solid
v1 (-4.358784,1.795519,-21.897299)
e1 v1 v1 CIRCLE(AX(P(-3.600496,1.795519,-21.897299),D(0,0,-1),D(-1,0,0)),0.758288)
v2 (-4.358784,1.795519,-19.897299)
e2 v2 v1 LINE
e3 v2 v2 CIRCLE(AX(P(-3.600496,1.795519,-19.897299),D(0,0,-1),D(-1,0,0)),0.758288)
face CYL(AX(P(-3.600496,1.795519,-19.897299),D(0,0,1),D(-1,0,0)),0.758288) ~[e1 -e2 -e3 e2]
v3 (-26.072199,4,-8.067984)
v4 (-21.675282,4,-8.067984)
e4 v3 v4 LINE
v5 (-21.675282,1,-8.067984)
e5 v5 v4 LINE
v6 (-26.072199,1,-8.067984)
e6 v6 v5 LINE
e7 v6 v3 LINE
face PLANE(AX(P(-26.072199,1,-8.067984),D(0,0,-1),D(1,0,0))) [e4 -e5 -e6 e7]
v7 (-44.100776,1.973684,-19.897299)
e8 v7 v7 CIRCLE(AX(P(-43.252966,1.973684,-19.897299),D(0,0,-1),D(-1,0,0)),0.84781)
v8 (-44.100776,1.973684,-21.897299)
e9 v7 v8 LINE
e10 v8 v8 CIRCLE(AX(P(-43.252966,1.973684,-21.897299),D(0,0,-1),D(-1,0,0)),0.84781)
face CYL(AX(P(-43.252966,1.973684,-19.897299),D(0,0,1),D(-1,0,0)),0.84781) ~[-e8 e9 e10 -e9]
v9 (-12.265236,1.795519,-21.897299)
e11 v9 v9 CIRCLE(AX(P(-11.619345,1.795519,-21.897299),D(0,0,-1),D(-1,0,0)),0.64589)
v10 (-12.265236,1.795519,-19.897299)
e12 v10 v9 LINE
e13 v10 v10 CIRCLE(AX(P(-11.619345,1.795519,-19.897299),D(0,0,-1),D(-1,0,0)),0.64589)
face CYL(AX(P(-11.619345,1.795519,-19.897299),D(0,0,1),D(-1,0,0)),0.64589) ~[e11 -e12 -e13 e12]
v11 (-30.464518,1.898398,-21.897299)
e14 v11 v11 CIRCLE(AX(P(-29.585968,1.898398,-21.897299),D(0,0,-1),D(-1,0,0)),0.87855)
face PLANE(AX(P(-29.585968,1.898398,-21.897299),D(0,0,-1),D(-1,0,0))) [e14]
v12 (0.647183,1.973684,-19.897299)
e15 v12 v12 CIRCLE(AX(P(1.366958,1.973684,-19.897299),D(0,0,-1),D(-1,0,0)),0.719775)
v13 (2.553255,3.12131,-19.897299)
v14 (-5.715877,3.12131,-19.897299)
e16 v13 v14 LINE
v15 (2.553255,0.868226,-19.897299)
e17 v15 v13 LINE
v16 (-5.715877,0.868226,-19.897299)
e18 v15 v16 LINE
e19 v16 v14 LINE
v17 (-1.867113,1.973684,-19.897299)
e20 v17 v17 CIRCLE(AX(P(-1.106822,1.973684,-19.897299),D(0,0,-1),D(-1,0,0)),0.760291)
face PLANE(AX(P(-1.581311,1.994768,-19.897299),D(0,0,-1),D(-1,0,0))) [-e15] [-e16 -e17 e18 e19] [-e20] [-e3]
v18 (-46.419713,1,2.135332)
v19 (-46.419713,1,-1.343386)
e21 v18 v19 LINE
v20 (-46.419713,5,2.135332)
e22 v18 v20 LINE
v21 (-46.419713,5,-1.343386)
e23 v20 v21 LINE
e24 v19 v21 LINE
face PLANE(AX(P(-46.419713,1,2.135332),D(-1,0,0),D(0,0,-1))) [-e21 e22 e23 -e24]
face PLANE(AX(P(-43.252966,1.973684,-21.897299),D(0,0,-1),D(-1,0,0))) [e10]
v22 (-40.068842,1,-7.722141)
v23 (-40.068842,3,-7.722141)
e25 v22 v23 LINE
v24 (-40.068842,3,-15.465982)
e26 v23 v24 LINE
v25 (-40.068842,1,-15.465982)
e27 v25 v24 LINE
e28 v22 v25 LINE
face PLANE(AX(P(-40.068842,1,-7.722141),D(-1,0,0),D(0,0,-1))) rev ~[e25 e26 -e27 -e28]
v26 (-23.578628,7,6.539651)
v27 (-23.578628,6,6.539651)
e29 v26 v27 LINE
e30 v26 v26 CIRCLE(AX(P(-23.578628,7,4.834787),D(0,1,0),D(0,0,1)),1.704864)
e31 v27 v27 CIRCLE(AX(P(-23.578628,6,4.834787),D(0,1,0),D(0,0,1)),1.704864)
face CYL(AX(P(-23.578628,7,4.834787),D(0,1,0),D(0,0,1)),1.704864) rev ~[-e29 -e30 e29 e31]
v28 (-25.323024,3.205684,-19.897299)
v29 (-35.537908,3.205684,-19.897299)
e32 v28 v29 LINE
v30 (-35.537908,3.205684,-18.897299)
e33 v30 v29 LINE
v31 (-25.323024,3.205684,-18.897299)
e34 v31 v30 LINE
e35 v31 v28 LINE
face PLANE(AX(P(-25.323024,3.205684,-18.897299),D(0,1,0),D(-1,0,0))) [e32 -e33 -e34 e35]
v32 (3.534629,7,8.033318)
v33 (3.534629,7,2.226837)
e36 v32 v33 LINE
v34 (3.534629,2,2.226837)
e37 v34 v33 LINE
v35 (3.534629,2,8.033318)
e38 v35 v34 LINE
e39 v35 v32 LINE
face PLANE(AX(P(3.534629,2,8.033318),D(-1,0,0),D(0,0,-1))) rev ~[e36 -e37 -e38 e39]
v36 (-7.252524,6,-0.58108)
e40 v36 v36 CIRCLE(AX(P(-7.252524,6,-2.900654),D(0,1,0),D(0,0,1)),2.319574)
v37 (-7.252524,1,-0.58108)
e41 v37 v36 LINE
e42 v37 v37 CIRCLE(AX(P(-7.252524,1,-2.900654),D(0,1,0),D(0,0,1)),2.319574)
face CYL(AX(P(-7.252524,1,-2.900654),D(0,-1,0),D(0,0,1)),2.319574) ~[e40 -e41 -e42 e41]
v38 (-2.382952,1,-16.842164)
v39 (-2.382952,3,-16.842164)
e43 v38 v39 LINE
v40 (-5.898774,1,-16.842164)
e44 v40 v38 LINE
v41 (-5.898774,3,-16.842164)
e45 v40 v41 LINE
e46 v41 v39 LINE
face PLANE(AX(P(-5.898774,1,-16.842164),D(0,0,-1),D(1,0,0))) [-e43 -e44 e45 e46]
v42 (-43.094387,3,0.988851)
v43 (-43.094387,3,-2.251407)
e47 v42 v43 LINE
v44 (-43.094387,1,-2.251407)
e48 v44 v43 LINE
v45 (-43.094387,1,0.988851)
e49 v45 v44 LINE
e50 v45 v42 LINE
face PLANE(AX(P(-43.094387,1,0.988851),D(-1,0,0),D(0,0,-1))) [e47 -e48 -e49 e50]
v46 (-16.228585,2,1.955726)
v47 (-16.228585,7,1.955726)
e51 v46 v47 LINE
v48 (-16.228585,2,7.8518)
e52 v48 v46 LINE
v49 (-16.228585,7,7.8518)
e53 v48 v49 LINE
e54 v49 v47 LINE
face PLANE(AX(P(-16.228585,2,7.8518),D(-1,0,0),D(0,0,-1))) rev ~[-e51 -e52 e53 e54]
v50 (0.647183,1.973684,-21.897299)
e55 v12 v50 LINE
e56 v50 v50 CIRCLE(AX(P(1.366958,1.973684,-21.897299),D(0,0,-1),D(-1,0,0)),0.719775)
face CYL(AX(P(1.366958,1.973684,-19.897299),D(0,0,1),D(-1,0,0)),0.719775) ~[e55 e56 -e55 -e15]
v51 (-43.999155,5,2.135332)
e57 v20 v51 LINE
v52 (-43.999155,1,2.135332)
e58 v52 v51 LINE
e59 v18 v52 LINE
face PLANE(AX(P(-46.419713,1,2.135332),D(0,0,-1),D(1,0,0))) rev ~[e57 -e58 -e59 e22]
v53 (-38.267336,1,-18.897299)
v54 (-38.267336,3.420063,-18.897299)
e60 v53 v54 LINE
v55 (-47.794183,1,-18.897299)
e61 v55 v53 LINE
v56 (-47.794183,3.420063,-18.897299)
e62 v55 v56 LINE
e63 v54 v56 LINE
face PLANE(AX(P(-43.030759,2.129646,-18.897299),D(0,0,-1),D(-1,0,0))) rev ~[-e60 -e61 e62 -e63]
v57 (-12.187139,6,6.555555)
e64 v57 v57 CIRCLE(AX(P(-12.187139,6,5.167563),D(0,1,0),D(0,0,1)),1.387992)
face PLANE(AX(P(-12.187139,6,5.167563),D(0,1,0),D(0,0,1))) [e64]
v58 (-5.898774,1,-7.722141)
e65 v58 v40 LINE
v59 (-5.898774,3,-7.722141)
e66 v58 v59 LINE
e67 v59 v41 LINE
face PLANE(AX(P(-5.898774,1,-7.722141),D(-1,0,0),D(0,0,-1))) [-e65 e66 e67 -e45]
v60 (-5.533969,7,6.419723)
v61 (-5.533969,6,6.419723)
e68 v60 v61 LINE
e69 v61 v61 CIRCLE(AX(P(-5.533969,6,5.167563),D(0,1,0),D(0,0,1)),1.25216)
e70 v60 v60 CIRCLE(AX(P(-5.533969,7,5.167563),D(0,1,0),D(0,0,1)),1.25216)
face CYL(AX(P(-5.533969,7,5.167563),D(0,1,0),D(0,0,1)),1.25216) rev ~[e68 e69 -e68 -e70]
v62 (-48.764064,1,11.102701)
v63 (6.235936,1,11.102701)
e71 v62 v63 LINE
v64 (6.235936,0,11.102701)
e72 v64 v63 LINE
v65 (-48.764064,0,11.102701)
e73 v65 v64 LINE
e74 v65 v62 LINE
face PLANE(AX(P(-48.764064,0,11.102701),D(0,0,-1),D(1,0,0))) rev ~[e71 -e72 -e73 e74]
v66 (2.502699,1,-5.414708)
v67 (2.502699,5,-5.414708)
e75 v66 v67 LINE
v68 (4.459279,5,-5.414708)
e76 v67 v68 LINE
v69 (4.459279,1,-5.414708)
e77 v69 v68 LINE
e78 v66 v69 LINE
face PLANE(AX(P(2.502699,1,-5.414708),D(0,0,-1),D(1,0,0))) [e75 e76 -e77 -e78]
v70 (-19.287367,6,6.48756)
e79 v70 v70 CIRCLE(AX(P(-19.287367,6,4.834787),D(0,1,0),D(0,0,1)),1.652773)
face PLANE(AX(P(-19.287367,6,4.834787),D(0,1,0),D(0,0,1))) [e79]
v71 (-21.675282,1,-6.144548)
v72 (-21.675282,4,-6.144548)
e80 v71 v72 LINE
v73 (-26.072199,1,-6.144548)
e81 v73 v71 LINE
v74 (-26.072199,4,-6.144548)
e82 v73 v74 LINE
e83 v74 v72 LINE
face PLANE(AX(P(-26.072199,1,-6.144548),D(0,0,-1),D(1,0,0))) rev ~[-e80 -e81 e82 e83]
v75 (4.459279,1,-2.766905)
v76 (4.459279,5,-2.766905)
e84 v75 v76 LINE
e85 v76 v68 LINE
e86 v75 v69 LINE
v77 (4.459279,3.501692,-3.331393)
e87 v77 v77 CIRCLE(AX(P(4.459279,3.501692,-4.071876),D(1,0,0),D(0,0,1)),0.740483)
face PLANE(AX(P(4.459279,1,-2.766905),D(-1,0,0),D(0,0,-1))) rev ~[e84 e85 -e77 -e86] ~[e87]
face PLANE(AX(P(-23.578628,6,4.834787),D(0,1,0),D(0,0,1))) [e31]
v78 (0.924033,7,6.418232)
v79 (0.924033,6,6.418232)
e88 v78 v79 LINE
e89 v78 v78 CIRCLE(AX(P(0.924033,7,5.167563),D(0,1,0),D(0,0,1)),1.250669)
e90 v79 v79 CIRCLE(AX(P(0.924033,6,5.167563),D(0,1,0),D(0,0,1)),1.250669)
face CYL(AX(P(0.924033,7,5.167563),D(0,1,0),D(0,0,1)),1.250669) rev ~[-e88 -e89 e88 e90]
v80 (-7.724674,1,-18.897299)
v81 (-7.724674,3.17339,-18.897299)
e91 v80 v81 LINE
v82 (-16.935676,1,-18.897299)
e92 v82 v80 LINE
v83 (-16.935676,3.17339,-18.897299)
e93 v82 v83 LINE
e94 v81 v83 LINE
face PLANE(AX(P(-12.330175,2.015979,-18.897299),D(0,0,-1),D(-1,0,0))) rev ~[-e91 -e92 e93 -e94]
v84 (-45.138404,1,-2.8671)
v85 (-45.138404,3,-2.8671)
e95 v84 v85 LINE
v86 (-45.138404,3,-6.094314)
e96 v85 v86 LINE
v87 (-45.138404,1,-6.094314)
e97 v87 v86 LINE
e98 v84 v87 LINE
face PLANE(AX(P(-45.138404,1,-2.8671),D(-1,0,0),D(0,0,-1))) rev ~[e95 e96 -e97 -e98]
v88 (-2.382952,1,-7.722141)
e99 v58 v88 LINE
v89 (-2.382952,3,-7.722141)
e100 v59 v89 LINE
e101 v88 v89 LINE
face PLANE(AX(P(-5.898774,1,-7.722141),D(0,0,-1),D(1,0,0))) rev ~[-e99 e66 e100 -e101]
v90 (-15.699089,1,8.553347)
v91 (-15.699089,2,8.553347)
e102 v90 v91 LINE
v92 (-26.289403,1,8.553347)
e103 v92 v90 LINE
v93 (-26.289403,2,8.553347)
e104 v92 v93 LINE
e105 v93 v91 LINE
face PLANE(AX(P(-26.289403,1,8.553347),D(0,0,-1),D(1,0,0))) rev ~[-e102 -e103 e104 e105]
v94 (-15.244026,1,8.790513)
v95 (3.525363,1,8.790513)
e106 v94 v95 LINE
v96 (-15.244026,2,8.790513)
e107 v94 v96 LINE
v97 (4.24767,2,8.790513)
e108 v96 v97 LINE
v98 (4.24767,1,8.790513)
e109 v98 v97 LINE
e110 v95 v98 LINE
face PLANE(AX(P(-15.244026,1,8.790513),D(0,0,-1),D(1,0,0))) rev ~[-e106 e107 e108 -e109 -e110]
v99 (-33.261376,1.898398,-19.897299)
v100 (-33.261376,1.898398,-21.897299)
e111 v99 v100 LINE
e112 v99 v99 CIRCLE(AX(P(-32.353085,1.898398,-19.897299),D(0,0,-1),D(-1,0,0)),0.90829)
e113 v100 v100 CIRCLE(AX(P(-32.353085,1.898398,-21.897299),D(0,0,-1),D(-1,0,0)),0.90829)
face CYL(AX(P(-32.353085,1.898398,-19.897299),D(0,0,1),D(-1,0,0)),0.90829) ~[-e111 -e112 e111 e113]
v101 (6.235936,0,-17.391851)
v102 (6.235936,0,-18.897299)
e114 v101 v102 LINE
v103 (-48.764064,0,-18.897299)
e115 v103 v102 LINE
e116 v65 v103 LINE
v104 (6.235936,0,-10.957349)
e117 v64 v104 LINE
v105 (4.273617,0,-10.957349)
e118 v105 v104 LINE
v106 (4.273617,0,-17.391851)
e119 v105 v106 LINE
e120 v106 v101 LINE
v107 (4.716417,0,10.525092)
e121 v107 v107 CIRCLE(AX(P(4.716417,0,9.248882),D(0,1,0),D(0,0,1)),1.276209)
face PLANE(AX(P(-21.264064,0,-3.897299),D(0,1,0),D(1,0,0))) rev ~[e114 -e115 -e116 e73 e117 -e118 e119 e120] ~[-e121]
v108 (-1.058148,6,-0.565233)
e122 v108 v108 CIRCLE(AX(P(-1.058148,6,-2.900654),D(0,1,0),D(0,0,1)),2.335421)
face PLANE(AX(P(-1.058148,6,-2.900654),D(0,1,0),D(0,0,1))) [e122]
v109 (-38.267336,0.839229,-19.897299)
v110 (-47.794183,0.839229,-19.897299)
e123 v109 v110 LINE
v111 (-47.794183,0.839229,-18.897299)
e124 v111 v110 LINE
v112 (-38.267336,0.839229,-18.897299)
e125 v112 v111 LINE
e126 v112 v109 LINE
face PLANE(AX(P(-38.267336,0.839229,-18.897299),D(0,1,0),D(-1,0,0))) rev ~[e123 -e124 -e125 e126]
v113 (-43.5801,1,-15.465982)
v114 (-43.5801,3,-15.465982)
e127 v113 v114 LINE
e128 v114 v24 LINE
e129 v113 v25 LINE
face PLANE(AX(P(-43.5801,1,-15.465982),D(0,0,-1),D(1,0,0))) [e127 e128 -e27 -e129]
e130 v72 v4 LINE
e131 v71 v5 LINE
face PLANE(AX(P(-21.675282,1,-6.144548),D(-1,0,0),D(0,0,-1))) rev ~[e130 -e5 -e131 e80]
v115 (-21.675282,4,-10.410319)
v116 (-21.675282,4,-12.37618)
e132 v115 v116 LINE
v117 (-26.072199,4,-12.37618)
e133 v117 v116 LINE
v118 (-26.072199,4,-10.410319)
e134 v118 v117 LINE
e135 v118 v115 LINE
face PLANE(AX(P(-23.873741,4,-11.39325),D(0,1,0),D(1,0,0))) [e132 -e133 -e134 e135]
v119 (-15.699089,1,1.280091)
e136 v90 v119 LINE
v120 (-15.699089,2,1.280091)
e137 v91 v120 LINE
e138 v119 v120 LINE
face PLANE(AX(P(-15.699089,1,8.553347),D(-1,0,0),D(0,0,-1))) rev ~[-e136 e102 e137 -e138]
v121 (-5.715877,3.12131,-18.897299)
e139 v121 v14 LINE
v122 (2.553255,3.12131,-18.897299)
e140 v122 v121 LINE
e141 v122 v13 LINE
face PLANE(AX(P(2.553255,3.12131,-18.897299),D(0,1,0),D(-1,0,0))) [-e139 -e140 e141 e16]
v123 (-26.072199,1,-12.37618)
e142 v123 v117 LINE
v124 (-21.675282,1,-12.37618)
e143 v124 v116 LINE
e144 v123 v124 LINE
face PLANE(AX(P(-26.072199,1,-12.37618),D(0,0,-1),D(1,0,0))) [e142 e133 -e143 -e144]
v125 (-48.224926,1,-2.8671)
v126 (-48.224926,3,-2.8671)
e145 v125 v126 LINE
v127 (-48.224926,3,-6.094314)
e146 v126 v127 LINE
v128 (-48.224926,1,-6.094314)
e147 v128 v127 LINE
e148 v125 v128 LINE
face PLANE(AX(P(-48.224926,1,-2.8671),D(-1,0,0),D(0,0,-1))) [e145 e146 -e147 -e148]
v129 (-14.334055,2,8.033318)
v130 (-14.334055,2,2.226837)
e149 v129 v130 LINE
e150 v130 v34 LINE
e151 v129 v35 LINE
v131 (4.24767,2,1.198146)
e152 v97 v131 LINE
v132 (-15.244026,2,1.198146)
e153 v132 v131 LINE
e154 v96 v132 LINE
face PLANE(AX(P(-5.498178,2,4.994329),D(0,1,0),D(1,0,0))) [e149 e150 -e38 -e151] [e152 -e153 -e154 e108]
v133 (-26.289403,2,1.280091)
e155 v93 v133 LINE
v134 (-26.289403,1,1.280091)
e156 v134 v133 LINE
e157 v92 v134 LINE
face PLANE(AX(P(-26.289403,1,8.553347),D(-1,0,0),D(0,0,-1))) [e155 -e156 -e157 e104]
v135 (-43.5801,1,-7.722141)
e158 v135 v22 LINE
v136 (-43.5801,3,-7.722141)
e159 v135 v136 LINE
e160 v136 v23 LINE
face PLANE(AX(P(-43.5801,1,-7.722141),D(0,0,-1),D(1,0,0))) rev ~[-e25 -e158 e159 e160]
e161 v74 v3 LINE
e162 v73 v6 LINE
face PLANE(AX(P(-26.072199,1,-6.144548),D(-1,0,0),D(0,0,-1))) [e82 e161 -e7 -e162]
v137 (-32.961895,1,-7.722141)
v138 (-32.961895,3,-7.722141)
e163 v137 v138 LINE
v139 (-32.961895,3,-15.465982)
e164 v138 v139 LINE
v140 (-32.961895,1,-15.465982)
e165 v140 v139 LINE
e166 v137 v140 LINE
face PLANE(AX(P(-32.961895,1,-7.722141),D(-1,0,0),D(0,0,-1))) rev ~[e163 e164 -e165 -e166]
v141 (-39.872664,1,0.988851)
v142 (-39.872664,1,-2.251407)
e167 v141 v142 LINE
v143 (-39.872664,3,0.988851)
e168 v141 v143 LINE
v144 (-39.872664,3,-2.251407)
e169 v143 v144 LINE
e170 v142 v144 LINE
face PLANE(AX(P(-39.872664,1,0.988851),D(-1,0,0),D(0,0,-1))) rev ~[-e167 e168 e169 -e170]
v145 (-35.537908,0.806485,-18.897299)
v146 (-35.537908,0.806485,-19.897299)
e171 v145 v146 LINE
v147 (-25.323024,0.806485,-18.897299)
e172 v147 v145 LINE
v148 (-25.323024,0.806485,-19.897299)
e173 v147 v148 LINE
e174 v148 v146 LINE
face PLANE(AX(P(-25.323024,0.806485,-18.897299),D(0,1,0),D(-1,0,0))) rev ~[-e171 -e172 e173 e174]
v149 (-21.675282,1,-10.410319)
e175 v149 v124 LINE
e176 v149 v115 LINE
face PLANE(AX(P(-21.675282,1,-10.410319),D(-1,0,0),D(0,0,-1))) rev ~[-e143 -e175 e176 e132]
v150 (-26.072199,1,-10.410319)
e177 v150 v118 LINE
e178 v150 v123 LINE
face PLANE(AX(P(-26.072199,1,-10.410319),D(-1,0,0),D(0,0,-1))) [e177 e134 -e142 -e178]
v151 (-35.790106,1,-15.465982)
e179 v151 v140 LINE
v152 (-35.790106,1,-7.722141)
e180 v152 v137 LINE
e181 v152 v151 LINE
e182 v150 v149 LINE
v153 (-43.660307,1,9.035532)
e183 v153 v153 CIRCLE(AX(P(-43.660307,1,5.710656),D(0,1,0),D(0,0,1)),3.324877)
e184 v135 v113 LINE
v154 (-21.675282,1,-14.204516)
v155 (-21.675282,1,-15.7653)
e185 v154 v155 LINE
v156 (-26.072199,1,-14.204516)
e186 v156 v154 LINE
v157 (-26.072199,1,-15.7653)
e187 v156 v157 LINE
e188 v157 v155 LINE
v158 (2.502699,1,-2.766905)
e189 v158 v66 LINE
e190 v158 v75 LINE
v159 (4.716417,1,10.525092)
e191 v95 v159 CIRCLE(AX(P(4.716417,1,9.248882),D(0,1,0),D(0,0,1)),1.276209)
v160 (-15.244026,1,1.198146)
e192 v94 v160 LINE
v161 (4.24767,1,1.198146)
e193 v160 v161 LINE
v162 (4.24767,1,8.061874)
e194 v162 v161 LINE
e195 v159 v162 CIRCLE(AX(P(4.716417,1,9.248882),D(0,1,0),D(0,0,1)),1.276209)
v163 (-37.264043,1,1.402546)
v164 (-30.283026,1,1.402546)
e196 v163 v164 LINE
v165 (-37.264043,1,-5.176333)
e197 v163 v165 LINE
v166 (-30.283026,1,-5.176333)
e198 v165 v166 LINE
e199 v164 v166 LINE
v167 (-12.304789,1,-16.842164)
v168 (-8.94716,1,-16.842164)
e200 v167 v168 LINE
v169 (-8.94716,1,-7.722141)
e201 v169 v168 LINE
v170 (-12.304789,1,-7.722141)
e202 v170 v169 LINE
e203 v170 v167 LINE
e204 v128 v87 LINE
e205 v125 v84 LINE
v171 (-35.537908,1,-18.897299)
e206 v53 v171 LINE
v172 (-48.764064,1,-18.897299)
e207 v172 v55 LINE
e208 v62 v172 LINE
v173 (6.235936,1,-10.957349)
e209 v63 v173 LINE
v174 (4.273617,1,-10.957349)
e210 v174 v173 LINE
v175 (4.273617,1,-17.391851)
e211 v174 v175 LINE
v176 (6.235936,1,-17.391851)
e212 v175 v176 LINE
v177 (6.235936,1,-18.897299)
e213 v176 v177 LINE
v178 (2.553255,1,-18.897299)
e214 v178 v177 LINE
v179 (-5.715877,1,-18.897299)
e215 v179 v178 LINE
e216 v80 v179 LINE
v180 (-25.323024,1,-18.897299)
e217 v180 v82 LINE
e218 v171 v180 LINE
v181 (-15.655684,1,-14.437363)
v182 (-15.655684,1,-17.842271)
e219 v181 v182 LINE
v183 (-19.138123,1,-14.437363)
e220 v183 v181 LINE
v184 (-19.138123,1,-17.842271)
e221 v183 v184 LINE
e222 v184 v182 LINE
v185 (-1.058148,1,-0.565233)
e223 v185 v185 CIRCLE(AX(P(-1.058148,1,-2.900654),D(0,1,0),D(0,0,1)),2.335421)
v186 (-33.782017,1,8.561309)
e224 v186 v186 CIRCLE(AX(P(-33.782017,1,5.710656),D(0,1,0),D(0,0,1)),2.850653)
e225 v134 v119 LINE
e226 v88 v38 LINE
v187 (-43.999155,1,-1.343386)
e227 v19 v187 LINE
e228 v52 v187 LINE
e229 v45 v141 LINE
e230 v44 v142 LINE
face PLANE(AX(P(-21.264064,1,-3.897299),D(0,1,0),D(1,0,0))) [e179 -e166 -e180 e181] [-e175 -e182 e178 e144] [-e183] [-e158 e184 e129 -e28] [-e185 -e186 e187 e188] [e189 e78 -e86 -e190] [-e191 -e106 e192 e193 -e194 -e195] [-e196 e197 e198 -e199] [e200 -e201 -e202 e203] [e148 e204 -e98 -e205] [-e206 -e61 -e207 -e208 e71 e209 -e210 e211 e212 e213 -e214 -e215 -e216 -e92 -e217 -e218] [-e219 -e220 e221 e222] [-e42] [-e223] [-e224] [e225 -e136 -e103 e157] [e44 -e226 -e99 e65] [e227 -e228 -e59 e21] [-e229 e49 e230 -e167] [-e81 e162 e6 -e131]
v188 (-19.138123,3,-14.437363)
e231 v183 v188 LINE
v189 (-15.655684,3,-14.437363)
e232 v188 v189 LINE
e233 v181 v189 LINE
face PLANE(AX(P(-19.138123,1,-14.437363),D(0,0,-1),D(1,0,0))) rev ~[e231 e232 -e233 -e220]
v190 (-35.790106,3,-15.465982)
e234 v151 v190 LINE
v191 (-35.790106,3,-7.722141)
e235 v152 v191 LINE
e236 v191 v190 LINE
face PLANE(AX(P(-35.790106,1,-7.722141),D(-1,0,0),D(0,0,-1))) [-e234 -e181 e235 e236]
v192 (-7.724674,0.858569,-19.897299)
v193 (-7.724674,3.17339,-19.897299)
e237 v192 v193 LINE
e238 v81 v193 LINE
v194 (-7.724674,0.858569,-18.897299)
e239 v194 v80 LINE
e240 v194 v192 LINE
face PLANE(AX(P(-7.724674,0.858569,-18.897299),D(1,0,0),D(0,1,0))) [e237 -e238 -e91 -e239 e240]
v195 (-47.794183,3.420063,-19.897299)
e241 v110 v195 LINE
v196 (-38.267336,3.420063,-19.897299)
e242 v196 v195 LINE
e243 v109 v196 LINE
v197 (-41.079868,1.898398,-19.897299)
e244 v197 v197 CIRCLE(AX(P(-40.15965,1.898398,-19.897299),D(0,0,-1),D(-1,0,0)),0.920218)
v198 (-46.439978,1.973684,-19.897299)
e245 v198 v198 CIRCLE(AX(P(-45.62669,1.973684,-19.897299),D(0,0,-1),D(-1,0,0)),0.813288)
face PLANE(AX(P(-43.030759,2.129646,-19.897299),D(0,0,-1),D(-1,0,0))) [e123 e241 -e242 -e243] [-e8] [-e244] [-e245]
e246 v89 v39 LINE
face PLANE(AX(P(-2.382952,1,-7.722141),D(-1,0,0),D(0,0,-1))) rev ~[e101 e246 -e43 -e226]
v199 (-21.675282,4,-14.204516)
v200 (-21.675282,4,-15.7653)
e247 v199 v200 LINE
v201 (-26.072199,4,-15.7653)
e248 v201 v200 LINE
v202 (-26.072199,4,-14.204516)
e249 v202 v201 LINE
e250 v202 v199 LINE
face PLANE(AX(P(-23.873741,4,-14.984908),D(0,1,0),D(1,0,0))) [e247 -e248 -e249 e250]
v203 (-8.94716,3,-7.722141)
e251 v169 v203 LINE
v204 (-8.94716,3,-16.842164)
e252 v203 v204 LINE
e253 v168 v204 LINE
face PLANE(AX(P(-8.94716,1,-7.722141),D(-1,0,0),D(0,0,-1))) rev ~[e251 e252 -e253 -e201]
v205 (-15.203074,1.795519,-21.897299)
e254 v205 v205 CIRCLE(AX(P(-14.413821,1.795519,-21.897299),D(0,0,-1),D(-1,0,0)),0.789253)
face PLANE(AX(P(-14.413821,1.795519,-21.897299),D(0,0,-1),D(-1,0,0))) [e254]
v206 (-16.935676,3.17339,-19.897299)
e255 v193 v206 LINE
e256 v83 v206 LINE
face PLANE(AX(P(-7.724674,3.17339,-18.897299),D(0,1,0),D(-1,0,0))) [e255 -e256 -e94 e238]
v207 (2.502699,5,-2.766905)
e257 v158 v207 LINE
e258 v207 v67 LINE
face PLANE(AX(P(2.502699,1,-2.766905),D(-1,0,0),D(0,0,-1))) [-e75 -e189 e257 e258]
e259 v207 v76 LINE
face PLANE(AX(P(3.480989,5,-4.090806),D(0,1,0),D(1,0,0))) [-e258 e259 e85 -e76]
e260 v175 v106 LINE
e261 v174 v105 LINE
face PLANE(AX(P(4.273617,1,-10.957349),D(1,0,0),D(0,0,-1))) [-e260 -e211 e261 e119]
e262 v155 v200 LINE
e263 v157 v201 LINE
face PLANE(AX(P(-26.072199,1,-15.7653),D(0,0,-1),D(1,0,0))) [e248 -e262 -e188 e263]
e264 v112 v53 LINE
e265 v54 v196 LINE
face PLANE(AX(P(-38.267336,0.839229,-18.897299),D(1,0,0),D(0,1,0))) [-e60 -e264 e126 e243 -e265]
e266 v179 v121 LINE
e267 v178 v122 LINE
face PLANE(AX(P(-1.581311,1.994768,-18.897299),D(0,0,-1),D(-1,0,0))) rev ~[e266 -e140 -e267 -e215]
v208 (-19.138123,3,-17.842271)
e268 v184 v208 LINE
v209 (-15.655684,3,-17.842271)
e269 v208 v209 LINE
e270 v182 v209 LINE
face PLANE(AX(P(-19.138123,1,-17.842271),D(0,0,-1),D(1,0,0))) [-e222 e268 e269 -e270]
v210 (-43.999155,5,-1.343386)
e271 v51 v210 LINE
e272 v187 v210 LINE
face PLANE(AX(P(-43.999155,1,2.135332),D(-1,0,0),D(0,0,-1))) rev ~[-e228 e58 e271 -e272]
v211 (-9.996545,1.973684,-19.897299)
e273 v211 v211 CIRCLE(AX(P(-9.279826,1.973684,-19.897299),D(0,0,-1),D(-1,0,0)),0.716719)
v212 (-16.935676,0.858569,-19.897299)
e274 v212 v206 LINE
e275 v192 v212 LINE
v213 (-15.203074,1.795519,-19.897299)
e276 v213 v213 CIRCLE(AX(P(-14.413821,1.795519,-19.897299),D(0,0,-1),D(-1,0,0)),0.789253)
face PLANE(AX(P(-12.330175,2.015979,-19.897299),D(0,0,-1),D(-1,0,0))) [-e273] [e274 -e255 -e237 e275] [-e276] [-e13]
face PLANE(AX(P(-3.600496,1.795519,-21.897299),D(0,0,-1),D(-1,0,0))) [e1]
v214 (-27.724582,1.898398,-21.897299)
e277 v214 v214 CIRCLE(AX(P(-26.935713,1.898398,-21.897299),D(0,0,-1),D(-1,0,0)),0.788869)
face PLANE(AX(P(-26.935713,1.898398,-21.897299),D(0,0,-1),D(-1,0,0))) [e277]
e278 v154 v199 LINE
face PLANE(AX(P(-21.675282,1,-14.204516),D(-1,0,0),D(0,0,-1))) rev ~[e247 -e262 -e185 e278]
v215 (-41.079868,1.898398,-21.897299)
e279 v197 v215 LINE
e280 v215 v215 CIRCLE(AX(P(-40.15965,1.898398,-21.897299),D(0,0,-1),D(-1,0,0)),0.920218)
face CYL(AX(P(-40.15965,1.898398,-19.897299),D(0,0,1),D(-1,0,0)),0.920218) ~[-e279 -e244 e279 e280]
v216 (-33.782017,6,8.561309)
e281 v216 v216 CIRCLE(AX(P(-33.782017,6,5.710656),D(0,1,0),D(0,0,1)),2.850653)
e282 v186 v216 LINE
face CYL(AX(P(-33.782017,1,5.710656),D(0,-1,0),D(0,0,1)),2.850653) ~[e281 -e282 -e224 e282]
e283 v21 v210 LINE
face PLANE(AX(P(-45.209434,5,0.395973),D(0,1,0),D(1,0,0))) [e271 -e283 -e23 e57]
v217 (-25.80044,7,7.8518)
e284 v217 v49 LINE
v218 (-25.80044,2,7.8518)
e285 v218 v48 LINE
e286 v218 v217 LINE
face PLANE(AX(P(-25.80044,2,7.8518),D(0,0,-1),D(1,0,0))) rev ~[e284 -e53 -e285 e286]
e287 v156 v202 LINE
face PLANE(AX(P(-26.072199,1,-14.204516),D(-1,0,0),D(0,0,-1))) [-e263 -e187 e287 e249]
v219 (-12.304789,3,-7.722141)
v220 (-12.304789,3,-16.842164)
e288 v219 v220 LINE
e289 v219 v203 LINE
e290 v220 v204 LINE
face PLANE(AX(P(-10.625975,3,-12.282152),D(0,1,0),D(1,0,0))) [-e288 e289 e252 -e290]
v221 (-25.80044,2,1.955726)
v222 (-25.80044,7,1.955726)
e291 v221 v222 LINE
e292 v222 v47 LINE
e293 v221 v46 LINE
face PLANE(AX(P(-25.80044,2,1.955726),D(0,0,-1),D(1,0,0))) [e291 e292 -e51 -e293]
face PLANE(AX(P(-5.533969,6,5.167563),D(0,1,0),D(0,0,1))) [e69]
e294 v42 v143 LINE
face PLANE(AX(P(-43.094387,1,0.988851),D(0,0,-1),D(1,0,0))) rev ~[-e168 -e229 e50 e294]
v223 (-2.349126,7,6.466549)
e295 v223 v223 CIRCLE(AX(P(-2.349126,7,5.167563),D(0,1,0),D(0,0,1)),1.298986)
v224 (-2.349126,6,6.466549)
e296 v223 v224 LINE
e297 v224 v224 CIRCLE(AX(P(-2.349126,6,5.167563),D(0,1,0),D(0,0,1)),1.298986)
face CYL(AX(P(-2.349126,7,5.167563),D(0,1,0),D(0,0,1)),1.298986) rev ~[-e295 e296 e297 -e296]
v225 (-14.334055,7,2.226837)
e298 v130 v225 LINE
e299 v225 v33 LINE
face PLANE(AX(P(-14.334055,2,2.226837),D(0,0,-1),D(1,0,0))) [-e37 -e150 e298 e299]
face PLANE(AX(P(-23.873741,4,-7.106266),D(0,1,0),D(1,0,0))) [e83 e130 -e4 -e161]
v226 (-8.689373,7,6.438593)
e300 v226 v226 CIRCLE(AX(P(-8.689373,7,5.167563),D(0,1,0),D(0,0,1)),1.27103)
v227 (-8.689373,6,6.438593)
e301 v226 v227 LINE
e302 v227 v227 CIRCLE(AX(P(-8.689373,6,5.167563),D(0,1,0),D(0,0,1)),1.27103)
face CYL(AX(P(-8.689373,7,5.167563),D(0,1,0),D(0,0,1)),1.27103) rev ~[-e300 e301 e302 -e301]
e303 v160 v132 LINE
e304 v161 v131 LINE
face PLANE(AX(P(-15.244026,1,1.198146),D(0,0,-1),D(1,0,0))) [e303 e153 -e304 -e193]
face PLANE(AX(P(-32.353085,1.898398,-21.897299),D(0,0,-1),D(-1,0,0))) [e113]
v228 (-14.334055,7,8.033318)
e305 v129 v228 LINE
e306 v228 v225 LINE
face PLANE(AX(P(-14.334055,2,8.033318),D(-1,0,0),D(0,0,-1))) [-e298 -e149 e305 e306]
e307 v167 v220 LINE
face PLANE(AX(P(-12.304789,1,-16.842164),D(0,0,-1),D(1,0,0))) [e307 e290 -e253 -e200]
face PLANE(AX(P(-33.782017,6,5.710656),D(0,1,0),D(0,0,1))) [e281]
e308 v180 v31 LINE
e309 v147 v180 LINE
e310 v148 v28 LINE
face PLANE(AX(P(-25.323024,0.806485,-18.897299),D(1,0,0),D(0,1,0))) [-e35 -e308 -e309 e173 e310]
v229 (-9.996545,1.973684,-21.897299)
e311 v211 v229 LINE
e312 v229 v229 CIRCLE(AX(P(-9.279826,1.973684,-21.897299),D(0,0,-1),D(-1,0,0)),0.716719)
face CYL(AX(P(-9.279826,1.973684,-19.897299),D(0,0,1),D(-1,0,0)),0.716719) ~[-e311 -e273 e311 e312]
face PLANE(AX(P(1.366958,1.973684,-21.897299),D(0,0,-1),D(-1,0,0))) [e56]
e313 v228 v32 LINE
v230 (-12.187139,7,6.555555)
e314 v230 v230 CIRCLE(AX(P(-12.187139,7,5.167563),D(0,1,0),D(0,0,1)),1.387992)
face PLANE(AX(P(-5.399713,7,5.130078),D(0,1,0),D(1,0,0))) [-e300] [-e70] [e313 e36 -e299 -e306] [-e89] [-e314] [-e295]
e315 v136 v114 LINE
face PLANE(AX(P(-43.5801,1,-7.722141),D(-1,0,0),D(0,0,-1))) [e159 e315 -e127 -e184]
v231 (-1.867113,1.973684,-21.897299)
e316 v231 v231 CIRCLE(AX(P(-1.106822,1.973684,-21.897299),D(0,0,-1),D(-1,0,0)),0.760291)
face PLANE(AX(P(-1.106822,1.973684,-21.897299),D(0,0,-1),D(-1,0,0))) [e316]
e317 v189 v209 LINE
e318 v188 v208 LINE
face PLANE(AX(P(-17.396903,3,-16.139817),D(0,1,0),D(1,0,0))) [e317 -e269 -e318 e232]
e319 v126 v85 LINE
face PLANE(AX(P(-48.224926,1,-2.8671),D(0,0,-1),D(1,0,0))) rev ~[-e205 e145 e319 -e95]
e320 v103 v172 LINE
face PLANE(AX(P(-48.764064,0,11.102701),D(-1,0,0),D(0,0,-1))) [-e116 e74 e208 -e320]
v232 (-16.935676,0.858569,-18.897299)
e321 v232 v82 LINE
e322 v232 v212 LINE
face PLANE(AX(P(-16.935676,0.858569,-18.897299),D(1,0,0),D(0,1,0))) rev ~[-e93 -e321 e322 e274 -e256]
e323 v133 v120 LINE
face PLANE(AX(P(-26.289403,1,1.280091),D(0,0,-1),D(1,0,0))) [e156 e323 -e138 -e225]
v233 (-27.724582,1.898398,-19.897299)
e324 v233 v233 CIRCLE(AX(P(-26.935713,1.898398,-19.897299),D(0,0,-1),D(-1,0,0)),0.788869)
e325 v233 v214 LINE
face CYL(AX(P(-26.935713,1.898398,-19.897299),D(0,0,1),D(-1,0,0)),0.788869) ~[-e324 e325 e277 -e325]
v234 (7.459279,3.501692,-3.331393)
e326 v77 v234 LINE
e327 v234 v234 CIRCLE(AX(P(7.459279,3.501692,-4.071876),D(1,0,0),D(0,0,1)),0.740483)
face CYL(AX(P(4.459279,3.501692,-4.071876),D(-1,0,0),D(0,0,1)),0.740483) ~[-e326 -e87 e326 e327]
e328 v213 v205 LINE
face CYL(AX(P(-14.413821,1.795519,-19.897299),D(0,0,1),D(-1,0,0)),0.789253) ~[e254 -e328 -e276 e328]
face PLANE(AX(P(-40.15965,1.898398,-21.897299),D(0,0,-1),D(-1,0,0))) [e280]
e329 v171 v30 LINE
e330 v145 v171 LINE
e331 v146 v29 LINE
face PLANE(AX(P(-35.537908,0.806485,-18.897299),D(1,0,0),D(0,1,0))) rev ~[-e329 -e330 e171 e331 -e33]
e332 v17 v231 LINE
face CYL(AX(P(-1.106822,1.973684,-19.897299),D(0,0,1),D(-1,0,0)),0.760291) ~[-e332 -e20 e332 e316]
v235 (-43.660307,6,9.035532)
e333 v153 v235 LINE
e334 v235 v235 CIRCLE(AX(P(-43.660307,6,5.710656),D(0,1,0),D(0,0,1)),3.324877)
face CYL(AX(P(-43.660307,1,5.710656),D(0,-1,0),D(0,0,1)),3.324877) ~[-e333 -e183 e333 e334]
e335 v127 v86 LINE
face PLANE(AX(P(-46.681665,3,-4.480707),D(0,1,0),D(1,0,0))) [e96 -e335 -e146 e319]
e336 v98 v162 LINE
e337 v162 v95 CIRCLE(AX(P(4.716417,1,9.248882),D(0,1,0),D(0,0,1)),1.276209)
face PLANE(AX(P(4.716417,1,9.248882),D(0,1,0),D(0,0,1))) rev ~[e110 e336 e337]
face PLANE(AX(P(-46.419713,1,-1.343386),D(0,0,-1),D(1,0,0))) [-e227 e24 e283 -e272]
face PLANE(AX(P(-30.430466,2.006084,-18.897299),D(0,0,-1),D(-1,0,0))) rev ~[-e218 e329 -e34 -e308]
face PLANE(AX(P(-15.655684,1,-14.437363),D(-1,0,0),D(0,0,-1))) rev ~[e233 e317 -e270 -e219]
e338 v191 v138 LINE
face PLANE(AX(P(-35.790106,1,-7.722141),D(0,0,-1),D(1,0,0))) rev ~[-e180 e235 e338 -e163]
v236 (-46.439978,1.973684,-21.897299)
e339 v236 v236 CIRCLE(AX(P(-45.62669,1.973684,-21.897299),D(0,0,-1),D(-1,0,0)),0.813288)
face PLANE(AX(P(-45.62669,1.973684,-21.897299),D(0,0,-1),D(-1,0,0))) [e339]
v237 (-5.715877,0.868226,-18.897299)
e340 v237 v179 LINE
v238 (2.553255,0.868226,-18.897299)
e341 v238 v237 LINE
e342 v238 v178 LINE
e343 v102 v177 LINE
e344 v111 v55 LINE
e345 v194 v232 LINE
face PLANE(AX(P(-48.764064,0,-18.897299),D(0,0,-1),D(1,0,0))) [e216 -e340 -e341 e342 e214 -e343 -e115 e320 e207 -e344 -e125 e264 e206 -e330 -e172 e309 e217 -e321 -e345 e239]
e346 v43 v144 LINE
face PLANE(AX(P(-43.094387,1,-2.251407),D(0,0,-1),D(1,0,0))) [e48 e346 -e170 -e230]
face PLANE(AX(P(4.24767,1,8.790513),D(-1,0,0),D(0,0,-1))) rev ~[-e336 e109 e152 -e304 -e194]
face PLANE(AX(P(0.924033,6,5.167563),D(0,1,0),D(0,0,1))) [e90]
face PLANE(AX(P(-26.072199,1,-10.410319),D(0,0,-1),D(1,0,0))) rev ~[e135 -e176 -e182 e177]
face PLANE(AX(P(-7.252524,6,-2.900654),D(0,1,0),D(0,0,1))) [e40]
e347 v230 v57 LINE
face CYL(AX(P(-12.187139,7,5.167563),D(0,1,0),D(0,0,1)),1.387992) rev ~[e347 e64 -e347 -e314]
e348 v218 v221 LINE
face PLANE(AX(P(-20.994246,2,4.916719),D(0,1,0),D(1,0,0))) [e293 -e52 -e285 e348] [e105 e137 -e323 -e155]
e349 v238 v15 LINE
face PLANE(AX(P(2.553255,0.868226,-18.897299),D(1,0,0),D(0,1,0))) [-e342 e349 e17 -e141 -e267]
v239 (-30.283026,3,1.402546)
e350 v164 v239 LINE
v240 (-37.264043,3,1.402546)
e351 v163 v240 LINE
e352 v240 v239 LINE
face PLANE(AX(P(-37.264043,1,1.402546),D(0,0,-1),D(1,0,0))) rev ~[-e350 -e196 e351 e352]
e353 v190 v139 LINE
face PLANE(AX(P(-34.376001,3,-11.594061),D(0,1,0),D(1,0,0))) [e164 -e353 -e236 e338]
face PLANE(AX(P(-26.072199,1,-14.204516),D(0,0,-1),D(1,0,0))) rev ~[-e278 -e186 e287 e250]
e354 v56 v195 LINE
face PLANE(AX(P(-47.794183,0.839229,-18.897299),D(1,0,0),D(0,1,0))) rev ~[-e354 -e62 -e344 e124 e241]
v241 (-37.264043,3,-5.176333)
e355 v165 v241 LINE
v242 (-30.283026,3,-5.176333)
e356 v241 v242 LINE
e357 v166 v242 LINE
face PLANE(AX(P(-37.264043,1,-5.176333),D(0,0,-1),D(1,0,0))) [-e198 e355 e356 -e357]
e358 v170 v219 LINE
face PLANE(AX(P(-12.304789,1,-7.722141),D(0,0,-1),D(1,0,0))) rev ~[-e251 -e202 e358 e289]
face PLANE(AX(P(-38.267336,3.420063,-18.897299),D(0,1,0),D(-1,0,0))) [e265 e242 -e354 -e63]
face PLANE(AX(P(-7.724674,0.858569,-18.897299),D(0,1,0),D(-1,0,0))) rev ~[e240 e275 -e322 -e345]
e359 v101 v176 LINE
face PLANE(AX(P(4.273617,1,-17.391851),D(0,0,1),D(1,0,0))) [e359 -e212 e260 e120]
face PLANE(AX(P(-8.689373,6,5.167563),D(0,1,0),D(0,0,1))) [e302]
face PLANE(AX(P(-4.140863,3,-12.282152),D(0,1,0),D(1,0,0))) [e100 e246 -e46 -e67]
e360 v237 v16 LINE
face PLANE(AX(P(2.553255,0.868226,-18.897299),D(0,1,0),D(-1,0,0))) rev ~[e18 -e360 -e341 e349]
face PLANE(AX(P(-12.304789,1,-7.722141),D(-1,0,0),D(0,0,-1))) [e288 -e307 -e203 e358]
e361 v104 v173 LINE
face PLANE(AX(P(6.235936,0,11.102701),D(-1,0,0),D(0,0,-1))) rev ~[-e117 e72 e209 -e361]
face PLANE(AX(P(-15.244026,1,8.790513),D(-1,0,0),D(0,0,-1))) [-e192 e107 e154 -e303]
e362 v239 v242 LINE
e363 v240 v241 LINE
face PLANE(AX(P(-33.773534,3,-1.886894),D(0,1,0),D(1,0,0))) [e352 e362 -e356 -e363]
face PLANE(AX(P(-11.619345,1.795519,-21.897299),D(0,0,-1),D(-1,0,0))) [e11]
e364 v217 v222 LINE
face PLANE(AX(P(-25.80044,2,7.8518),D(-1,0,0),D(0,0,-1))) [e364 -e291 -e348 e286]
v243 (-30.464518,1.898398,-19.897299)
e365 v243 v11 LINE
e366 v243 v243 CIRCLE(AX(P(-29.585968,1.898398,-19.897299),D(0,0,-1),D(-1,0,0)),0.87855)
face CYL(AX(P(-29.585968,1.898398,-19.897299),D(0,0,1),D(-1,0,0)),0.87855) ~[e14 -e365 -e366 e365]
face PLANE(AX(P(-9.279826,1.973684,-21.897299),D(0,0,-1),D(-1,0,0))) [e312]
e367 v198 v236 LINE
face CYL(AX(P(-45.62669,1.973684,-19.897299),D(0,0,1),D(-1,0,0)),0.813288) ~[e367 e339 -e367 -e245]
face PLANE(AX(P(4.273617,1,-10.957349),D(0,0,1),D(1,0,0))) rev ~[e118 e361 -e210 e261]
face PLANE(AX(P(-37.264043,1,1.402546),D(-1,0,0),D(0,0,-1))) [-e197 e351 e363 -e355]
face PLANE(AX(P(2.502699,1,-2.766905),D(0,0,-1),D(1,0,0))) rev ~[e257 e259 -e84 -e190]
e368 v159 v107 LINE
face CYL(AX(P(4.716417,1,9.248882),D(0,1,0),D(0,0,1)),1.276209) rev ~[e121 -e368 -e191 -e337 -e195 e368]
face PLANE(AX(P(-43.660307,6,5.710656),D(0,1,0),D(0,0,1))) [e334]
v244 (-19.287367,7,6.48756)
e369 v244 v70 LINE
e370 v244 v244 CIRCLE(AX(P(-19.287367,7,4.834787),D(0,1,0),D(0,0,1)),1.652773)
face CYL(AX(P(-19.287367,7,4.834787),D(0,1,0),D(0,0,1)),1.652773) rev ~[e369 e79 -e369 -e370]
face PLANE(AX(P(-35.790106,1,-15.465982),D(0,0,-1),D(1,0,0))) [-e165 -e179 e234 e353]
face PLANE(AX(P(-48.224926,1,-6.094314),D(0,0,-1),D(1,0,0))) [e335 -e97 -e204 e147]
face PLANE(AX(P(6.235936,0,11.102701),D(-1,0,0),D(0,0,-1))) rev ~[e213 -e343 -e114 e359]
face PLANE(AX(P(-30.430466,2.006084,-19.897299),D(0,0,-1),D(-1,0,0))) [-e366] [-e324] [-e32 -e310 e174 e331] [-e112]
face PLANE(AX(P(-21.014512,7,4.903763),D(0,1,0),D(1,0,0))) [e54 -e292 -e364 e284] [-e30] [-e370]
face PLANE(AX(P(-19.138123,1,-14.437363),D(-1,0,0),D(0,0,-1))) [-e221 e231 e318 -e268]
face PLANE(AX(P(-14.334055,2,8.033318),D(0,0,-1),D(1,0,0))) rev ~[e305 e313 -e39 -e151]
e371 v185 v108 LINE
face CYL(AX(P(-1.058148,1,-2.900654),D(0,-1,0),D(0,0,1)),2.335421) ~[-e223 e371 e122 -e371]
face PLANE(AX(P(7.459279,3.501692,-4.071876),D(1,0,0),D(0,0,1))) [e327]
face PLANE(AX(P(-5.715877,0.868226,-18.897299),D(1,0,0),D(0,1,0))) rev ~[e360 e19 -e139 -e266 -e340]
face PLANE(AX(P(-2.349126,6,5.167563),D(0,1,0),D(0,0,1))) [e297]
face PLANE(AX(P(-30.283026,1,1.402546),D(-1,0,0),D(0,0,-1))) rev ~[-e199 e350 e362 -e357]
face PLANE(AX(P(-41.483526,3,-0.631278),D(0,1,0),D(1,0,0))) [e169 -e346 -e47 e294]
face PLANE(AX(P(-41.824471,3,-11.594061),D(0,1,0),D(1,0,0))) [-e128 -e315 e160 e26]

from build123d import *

# Parameters (mm, degrees)
SKETCH1_W            = 55
SKETCH1_H            = 30
BOSS_EXTRUDE1_DEPTH  = 1
SKETCH2_W            = 19.491695939
SKETCH2_H            = 7.592367472
BOSS_EXTRUDE2_DEPTH  = 1
SKETCH3_W            = 17.868683869
SKETCH3_H            = 5.806480893
BOSS_EXTRUDE3_DEPTH  = 5
SKETCH4_R            = 1.387992379
SKETCH4_R_2          = 1.271029941
SKETCH4_R_3          = 1.252160081
SKETCH4_R_4          = 1.29898612
SKETCH4_R_5          = 1.250669325
CUT_EXTRUDE1_DEPTH   = 1
SKETCH5_W            = 10.590314041
SKETCH5_H            = 7.273255242
BOSS_EXTRUDE4_DEPTH  = 1
SKETCH6_W            = 9.57185552
SKETCH6_H            = 5.896073661
BOSS_EXTRUDE5_DEPTH  = 5
SKETCH7_R            = 1.704864166
SKETCH7_R_2          = 1.652773159
CUT_EXTRUDE2_DEPTH   = 1
SKETCH8_W            = 4.39691748
SKETCH8_H            = 1.56078367
SKETCH8_H_2          = 1.965861173
SKETCH8_H_3          = 1.923435972
BOSS_EXTRUDE6_DEPTH  = 3
SKETCH9_W            = 3.511257789
SKETCH9_H            = 7.74384092
SKETCH9_W_2          = 2.828211164
SKETCH9_W_3          = 3.357629357
SKETCH9_H_2          = 9.12002374
SKETCH9_W_4          = 3.515822041
BOSS_EXTRUDE7_DEPTH  = 2
SKETCH11_W           = 9.526847307
SKETCH11_H           = 2.580834009
BOSS_EXTRUDE9_DEPTH  = 1
SKETCH12_W           = 10.214883885
SKETCH12_H           = 2.399198827
BOSS_EXTRUDE10_DEPTH = 1
SKETCH13_W           = 9.211002793
SKETCH13_H           = 2.314821269
BOSS_EXTRUDE11_DEPTH = 1
SKETCH14_W           = 8.269131958
SKETCH14_H           = 2.253083688
BOSS_EXTRUDE12_DEPTH = 1
SKETCH15_R           = 2.31957405
SKETCH15_R_2         = 2.335420551
SKETCH15_R_3         = 2.850653073
SKETCH15_R_4         = 3.324876744
BOSS_EXTRUDE13_DEPTH = 5
SKETCH16_R           = 1.17518149
SKETCH16_R_2         = 1.252285298
SKETCH16_R_3         = 1.321478457
SKETCH16_R_4         = 1.276209415
CUT_EXTRUDE3_DEPTH   = 5
SKETCH17_W           = 3.572088618
SKETCH17_H           = 5.777043793
SKETCH17_W_2         = 3.071926892
SKETCH17_H_2         = 6.434501435
CUT_EXTRUDE4_DEPTH   = 5
SKETCH18_W           = 6.981016606
SKETCH18_H           = 6.578879703
SKETCH18_W_2         = 3.086522126
SKETCH18_H_2         = 3.227214814
SKETCH18_W_3         = 3.221722133
SKETCH18_H_3         = 3.240258565
SKETCH18_W_4         = 3.482439067
SKETCH18_H_4         = 3.404908775
BOSS_EXTRUDE14_DEPTH = 2
SKETCH19_R           = 0.719775063
SKETCH19_R_2         = 0.76029107
SKETCH19_R_3         = 0.758288133
SKETCH19_R_4         = 0.716718546
SKETCH19_R_5         = 0.645890237
SKETCH19_R_6         = 0.78925264
SKETCH19_R_7         = 0.788868737
SKETCH19_R_8         = 0.878549595
SKETCH19_R_9         = 0.90829019
SKETCH19_R_10        = 0.920218082
SKETCH19_R_11        = 0.847809832
SKETCH19_R_12        = 0.813287674
BOSS_EXTRUDE15_DEPTH = 2
SKETCH20_W           = 2.420557599
SKETCH20_H           = 3.478717889
BOSS_EXTRUDE17_DEPTH = 4
SKETCH22_W           = 1.956579844
SKETCH22_H           = 2.647802663
BOSS_EXTRUDE19_DEPTH = 4
SKETCH23_R           = 0.740483371
BOSS_EXTRUDE20_DEPTH = 3


with BuildPart() as part:
    # Sketch1 → Boss-Extrude1 (new body)
    with BuildSketch(Plane(origin=(0, 0, 0), x_dir=(1, 0, 0), z_dir=(0, 1, 0))):
        with Locations((-21.264064322, 3.89729895)):
            Rectangle(SKETCH1_W, SKETCH1_H)
    extrude(amount=BOSS_EXTRUDE1_DEPTH)

    # Sketch2 → Boss-Extrude2 (add)
    with BuildSketch(Plane(origin=(0, 1, 0), x_dir=(1, 0, 0), z_dir=(0, 1, 0))):
        with Locations((-5.49817758, -4.994329297)):
            Rectangle(SKETCH2_W, SKETCH2_H)
    extrude(amount=BOSS_EXTRUDE2_DEPTH)

    # Sketch3 → Boss-Extrude3 (add)
    with BuildSketch(Plane(origin=(0, 2, 0), x_dir=(1, 0, 0), z_dir=(0, 1, 0))):
        with Locations((-5.399712824, -5.130077774)):
            Rectangle(SKETCH3_W, SKETCH3_H)
    extrude(amount=BOSS_EXTRUDE3_DEPTH)

    # Sketch4 → Cut-Extrude1 (cut)
    with BuildSketch(Plane(origin=(0, 7, 0), x_dir=(1, 0, 0), z_dir=(0, 1, 0))):
        with Locations(Location((-12.18713871, -5.16756273, 0), (0, 0, 270))):
            Circle(SKETCH4_R)
        with Locations(Location((-8.689373295, -5.16756273, 0), (0, 0, 270))):
            Circle(SKETCH4_R_2)
        with Locations(Location((-5.533968846, -5.16756273, 0), (0, 0, 270))):
            Circle(SKETCH4_R_3)
        with Locations(Location((-2.349125846, -5.16756273, 0), (0, 0, 270))):
            Circle(SKETCH4_R_4)
        with Locations(Location((0.92403281, -5.16756273, 0), (0, 0, 270))):
            Circle(SKETCH4_R_5)
    extrude(amount=-CUT_EXTRUDE1_DEPTH, mode=Mode.SUBTRACT)

    # Sketch5 → Boss-Extrude4 (add)
    with BuildSketch(Plane(origin=(0, 1, 0), x_dir=(1, 0, 0), z_dir=(0, 1, 0))):
        with Locations((-20.994245653, -4.916719061)):
            Rectangle(SKETCH5_W, SKETCH5_H)
    extrude(amount=BOSS_EXTRUDE4_DEPTH)

    # Sketch6 → Boss-Extrude5 (add)
    with BuildSketch(Plane(origin=(0, 2, 0), x_dir=(1, 0, 0), z_dir=(0, 1, 0))):
        with Locations((-21.014512422, -4.903762727)):
            Rectangle(SKETCH6_W, SKETCH6_H)
    extrude(amount=BOSS_EXTRUDE5_DEPTH)

    # Sketch7 → Cut-Extrude2 (cut)
    with BuildSketch(Plane(origin=(0, 7, 0), x_dir=(1, 0, 0), z_dir=(0, 1, 0))):
        with Locations(Location((-23.578627502, -4.834787204, 0), (0, 0, 270))):
            Circle(SKETCH7_R)
        with Locations(Location((-19.287367013, -4.834787204, 0), (0, 0, 270))):
            Circle(SKETCH7_R_2)
    extrude(amount=-CUT_EXTRUDE2_DEPTH, mode=Mode.SUBTRACT)

    # Sketch8 → Boss-Extrude6 (add)
    with BuildSketch(Plane(origin=(0, 1, 0), x_dir=(1, 0, 0), z_dir=(0, 1, 0))):
        with Locations((-23.873740649, 14.984908312)):
            Rectangle(SKETCH8_W, SKETCH8_H)
        with Locations((-23.873740649, 11.393249572)):
            Rectangle(SKETCH8_W, SKETCH8_H_2)
        with Locations((-23.873740649, 7.106266144)):
            Rectangle(SKETCH8_W, SKETCH8_H_3)
    extrude(amount=BOSS_EXTRUDE6_DEPTH)

    # Sketch9 → Boss-Extrude7 (add)
    with BuildSketch(Plane(origin=(0, 1, 0), x_dir=(1, 0, 0), z_dir=(0, 1, 0))):
        with Locations((-41.824470852, 11.59406106)):
            Rectangle(SKETCH9_W, SKETCH9_H)
        with Locations((-34.376000541, 11.59406106)):
            Rectangle(SKETCH9_W_2, SKETCH9_H)
        with Locations((-10.62597461, 12.28215247)):
            Rectangle(SKETCH9_W_3, SKETCH9_H_2)
        with Locations((-4.140862927, 12.28215247)):
            Rectangle(SKETCH9_W_4, SKETCH9_H_2)
    extrude(amount=BOSS_EXTRUDE7_DEPTH)

    # Sketch11 → Boss-Extrude9 (add)
    with BuildSketch(Plane(origin=(0, 0, -18.89729895), x_dir=(-1, 0, 0), z_dir=(0, 0, -1))):
        with Locations((43.030759371, 2.129646377)):
            Rectangle(SKETCH11_W, SKETCH11_H)
    extrude(amount=BOSS_EXTRUDE9_DEPTH)

    # Sketch12 → Boss-Extrude10 (add)
    with BuildSketch(Plane(origin=(0, 0, -18.89729895), x_dir=(-1, 0, 0), z_dir=(0, 0, -1))):
        with Locations((30.43046596, 2.006084235)):
            Rectangle(SKETCH12_W, SKETCH12_H)
    extrude(amount=BOSS_EXTRUDE10_DEPTH)

    # Sketch13 → Boss-Extrude11 (add)
    with BuildSketch(Plane(origin=(0, 0, -18.89729895), x_dir=(-1, 0, 0), z_dir=(0, 0, -1))):
        with Locations((12.330175076, 2.015979145)):
            Rectangle(SKETCH13_W, SKETCH13_H)
    extrude(amount=BOSS_EXTRUDE11_DEPTH)

    # Sketch14 → Boss-Extrude12 (add)
    with BuildSketch(Plane(origin=(0, 0, -18.89729895), x_dir=(-1, 0, 0), z_dir=(0, 0, -1))):
        with Locations((1.581311109, 1.994768123)):
            Rectangle(SKETCH14_W, SKETCH14_H)
    extrude(amount=BOSS_EXTRUDE12_DEPTH)

    # Sketch15 → Boss-Extrude13 (add)
    with BuildSketch(Plane(origin=(0, 1, 0), x_dir=(1, 0, 0), z_dir=(0, 1, 0))):
        with Locations(Location((-7.252523926, 2.900653957, 0), (0, 0, 270))):
            Circle(SKETCH15_R)
        with Locations(Location((-1.058148133, 2.900653957, 0), (0, 0, 270))):
            Circle(SKETCH15_R_2)
        with Locations(Location((-33.782017374, -5.710655696, 0), (0, 0, 270))):
            Circle(SKETCH15_R_3)
        with Locations(Location((-43.660307349, -5.710655696, 0), (0, 0, 270))):
            Circle(SKETCH15_R_4)
    extrude(amount=BOSS_EXTRUDE13_DEPTH)

    # Sketch16 → Cut-Extrude3 (cut)
    with BuildSketch(Plane(origin=(0, 1, 0), x_dir=(1, 0, 0), z_dir=(0, 1, 0))):
        with Locations((-51.576522497, 22.016727671)):
            Circle(SKETCH16_R)
        with Locations((-51.576522497, -8.848199257)):
            Circle(SKETCH16_R_2)
        with Locations((4.236348916, 22.016727671)):
            Circle(SKETCH16_R_3)
        with Locations(Location((4.71641652, -9.248882224, 0), (0, 0, 270))):
            Circle(SKETCH16_R_4)
    extrude(amount=-CUT_EXTRUDE3_DEPTH, mode=Mode.SUBTRACT)

    # Sketch17 → Cut-Extrude4 (cut)
    with BuildSketch(Plane(origin=(0, 1, 0), x_dir=(1, 0, 0), z_dir=(0, 1, 0))):
        with Locations((-52.185475992, 15.830959354)):
            Rectangle(SKETCH17_W, SKETCH17_H)
        with Locations((5.809579957, 14.174599881)):
            Rectangle(SKETCH17_W_2, SKETCH17_H_2)
    extrude(amount=-CUT_EXTRUDE4_DEPTH, mode=Mode.SUBTRACT)

    # Sketch18 → Boss-Extrude14 (add)
    with BuildSketch(Plane(origin=(0, 1, 0), x_dir=(1, 0, 0), z_dir=(0, 1, 0))):
        with Locations((-33.773534226, 1.886893529)):
            Rectangle(SKETCH18_W, SKETCH18_H)
        with Locations((-46.681665239, 4.480707082)):
            Rectangle(SKETCH18_W_2, SKETCH18_H_2)
        with Locations((-41.483525563, 0.631278088)):
            Rectangle(SKETCH18_W_3, SKETCH18_H_3)
        with Locations((-17.396903315, 16.139817099)):
            Rectangle(SKETCH18_W_4, SKETCH18_H_4)
    extrude(amount=BOSS_EXTRUDE14_DEPTH)

    # Sketch19 → Boss-Extrude15 (add)
    with BuildSketch(Plane(origin=(0, 0, -19.89729895), x_dir=(-1, 0, 0), z_dir=(0, 0, -1))):
        with Locations((-1.366958386, 1.973684487)):
            Circle(SKETCH19_R)
        with Locations((1.106822062, 1.973684487)):
            Circle(SKETCH19_R_2)
        with Locations((3.600495928, 1.795519179)):
            Circle(SKETCH19_R_3)
        with Locations((9.279826449, 1.973684487)):
            Circle(SKETCH19_R_4)
        with Locations((11.619345424, 1.795519179)):
            Circle(SKETCH19_R_5)
        with Locations((14.413821044, 1.795519179)):
            Circle(SKETCH19_R_6)
        with Locations((26.935713498, 1.898398295)):
            Circle(SKETCH19_R_7)
        with Locations((29.585968295, 1.898398295)):
            Circle(SKETCH19_R_8)
        with Locations((32.353085369, 1.898398295)):
            Circle(SKETCH19_R_9)
        with Locations((40.159649939, 1.898398295)):
            Circle(SKETCH19_R_10)
        with Locations((43.252965878, 1.973684487)):
            Circle(SKETCH19_R_11)
        with Locations((45.626690014, 1.973684487)):
            Circle(SKETCH19_R_12)
    extrude(amount=BOSS_EXTRUDE15_DEPTH)

    # Sketch20 → Boss-Extrude17 (add)
    with BuildSketch(Plane(origin=(0, 1, 0), x_dir=(1, 0, 0), z_dir=(0, 1, 0))):
        with Locations((-45.209433873, -0.39597322)):
            Rectangle(SKETCH20_W, SKETCH20_H)
    extrude(amount=BOSS_EXTRUDE17_DEPTH)

    # Sketch22 → Boss-Extrude19 (add)
    with BuildSketch(Plane(origin=(0, 1, 0), x_dir=(1, 0, 0), z_dir=(0, 1, 0))):
        with Locations((3.480988959, 4.090806431)):
            Rectangle(SKETCH22_W, SKETCH22_H)
    extrude(amount=BOSS_EXTRUDE19_DEPTH)

    # Sketch23 → Boss-Extrude20 (add)
    with BuildSketch(Plane(origin=(4.459278881, 0, 0), x_dir=(0, 0, -1), z_dir=(1, 0, 0))):
        with Locations(Location((4.071876489, 3.501691713, 0), (0, 0, 180))):
            Circle(SKETCH23_R)
    extrude(amount=BOSS_EXTRUDE20_DEPTH)


solid = part.part
